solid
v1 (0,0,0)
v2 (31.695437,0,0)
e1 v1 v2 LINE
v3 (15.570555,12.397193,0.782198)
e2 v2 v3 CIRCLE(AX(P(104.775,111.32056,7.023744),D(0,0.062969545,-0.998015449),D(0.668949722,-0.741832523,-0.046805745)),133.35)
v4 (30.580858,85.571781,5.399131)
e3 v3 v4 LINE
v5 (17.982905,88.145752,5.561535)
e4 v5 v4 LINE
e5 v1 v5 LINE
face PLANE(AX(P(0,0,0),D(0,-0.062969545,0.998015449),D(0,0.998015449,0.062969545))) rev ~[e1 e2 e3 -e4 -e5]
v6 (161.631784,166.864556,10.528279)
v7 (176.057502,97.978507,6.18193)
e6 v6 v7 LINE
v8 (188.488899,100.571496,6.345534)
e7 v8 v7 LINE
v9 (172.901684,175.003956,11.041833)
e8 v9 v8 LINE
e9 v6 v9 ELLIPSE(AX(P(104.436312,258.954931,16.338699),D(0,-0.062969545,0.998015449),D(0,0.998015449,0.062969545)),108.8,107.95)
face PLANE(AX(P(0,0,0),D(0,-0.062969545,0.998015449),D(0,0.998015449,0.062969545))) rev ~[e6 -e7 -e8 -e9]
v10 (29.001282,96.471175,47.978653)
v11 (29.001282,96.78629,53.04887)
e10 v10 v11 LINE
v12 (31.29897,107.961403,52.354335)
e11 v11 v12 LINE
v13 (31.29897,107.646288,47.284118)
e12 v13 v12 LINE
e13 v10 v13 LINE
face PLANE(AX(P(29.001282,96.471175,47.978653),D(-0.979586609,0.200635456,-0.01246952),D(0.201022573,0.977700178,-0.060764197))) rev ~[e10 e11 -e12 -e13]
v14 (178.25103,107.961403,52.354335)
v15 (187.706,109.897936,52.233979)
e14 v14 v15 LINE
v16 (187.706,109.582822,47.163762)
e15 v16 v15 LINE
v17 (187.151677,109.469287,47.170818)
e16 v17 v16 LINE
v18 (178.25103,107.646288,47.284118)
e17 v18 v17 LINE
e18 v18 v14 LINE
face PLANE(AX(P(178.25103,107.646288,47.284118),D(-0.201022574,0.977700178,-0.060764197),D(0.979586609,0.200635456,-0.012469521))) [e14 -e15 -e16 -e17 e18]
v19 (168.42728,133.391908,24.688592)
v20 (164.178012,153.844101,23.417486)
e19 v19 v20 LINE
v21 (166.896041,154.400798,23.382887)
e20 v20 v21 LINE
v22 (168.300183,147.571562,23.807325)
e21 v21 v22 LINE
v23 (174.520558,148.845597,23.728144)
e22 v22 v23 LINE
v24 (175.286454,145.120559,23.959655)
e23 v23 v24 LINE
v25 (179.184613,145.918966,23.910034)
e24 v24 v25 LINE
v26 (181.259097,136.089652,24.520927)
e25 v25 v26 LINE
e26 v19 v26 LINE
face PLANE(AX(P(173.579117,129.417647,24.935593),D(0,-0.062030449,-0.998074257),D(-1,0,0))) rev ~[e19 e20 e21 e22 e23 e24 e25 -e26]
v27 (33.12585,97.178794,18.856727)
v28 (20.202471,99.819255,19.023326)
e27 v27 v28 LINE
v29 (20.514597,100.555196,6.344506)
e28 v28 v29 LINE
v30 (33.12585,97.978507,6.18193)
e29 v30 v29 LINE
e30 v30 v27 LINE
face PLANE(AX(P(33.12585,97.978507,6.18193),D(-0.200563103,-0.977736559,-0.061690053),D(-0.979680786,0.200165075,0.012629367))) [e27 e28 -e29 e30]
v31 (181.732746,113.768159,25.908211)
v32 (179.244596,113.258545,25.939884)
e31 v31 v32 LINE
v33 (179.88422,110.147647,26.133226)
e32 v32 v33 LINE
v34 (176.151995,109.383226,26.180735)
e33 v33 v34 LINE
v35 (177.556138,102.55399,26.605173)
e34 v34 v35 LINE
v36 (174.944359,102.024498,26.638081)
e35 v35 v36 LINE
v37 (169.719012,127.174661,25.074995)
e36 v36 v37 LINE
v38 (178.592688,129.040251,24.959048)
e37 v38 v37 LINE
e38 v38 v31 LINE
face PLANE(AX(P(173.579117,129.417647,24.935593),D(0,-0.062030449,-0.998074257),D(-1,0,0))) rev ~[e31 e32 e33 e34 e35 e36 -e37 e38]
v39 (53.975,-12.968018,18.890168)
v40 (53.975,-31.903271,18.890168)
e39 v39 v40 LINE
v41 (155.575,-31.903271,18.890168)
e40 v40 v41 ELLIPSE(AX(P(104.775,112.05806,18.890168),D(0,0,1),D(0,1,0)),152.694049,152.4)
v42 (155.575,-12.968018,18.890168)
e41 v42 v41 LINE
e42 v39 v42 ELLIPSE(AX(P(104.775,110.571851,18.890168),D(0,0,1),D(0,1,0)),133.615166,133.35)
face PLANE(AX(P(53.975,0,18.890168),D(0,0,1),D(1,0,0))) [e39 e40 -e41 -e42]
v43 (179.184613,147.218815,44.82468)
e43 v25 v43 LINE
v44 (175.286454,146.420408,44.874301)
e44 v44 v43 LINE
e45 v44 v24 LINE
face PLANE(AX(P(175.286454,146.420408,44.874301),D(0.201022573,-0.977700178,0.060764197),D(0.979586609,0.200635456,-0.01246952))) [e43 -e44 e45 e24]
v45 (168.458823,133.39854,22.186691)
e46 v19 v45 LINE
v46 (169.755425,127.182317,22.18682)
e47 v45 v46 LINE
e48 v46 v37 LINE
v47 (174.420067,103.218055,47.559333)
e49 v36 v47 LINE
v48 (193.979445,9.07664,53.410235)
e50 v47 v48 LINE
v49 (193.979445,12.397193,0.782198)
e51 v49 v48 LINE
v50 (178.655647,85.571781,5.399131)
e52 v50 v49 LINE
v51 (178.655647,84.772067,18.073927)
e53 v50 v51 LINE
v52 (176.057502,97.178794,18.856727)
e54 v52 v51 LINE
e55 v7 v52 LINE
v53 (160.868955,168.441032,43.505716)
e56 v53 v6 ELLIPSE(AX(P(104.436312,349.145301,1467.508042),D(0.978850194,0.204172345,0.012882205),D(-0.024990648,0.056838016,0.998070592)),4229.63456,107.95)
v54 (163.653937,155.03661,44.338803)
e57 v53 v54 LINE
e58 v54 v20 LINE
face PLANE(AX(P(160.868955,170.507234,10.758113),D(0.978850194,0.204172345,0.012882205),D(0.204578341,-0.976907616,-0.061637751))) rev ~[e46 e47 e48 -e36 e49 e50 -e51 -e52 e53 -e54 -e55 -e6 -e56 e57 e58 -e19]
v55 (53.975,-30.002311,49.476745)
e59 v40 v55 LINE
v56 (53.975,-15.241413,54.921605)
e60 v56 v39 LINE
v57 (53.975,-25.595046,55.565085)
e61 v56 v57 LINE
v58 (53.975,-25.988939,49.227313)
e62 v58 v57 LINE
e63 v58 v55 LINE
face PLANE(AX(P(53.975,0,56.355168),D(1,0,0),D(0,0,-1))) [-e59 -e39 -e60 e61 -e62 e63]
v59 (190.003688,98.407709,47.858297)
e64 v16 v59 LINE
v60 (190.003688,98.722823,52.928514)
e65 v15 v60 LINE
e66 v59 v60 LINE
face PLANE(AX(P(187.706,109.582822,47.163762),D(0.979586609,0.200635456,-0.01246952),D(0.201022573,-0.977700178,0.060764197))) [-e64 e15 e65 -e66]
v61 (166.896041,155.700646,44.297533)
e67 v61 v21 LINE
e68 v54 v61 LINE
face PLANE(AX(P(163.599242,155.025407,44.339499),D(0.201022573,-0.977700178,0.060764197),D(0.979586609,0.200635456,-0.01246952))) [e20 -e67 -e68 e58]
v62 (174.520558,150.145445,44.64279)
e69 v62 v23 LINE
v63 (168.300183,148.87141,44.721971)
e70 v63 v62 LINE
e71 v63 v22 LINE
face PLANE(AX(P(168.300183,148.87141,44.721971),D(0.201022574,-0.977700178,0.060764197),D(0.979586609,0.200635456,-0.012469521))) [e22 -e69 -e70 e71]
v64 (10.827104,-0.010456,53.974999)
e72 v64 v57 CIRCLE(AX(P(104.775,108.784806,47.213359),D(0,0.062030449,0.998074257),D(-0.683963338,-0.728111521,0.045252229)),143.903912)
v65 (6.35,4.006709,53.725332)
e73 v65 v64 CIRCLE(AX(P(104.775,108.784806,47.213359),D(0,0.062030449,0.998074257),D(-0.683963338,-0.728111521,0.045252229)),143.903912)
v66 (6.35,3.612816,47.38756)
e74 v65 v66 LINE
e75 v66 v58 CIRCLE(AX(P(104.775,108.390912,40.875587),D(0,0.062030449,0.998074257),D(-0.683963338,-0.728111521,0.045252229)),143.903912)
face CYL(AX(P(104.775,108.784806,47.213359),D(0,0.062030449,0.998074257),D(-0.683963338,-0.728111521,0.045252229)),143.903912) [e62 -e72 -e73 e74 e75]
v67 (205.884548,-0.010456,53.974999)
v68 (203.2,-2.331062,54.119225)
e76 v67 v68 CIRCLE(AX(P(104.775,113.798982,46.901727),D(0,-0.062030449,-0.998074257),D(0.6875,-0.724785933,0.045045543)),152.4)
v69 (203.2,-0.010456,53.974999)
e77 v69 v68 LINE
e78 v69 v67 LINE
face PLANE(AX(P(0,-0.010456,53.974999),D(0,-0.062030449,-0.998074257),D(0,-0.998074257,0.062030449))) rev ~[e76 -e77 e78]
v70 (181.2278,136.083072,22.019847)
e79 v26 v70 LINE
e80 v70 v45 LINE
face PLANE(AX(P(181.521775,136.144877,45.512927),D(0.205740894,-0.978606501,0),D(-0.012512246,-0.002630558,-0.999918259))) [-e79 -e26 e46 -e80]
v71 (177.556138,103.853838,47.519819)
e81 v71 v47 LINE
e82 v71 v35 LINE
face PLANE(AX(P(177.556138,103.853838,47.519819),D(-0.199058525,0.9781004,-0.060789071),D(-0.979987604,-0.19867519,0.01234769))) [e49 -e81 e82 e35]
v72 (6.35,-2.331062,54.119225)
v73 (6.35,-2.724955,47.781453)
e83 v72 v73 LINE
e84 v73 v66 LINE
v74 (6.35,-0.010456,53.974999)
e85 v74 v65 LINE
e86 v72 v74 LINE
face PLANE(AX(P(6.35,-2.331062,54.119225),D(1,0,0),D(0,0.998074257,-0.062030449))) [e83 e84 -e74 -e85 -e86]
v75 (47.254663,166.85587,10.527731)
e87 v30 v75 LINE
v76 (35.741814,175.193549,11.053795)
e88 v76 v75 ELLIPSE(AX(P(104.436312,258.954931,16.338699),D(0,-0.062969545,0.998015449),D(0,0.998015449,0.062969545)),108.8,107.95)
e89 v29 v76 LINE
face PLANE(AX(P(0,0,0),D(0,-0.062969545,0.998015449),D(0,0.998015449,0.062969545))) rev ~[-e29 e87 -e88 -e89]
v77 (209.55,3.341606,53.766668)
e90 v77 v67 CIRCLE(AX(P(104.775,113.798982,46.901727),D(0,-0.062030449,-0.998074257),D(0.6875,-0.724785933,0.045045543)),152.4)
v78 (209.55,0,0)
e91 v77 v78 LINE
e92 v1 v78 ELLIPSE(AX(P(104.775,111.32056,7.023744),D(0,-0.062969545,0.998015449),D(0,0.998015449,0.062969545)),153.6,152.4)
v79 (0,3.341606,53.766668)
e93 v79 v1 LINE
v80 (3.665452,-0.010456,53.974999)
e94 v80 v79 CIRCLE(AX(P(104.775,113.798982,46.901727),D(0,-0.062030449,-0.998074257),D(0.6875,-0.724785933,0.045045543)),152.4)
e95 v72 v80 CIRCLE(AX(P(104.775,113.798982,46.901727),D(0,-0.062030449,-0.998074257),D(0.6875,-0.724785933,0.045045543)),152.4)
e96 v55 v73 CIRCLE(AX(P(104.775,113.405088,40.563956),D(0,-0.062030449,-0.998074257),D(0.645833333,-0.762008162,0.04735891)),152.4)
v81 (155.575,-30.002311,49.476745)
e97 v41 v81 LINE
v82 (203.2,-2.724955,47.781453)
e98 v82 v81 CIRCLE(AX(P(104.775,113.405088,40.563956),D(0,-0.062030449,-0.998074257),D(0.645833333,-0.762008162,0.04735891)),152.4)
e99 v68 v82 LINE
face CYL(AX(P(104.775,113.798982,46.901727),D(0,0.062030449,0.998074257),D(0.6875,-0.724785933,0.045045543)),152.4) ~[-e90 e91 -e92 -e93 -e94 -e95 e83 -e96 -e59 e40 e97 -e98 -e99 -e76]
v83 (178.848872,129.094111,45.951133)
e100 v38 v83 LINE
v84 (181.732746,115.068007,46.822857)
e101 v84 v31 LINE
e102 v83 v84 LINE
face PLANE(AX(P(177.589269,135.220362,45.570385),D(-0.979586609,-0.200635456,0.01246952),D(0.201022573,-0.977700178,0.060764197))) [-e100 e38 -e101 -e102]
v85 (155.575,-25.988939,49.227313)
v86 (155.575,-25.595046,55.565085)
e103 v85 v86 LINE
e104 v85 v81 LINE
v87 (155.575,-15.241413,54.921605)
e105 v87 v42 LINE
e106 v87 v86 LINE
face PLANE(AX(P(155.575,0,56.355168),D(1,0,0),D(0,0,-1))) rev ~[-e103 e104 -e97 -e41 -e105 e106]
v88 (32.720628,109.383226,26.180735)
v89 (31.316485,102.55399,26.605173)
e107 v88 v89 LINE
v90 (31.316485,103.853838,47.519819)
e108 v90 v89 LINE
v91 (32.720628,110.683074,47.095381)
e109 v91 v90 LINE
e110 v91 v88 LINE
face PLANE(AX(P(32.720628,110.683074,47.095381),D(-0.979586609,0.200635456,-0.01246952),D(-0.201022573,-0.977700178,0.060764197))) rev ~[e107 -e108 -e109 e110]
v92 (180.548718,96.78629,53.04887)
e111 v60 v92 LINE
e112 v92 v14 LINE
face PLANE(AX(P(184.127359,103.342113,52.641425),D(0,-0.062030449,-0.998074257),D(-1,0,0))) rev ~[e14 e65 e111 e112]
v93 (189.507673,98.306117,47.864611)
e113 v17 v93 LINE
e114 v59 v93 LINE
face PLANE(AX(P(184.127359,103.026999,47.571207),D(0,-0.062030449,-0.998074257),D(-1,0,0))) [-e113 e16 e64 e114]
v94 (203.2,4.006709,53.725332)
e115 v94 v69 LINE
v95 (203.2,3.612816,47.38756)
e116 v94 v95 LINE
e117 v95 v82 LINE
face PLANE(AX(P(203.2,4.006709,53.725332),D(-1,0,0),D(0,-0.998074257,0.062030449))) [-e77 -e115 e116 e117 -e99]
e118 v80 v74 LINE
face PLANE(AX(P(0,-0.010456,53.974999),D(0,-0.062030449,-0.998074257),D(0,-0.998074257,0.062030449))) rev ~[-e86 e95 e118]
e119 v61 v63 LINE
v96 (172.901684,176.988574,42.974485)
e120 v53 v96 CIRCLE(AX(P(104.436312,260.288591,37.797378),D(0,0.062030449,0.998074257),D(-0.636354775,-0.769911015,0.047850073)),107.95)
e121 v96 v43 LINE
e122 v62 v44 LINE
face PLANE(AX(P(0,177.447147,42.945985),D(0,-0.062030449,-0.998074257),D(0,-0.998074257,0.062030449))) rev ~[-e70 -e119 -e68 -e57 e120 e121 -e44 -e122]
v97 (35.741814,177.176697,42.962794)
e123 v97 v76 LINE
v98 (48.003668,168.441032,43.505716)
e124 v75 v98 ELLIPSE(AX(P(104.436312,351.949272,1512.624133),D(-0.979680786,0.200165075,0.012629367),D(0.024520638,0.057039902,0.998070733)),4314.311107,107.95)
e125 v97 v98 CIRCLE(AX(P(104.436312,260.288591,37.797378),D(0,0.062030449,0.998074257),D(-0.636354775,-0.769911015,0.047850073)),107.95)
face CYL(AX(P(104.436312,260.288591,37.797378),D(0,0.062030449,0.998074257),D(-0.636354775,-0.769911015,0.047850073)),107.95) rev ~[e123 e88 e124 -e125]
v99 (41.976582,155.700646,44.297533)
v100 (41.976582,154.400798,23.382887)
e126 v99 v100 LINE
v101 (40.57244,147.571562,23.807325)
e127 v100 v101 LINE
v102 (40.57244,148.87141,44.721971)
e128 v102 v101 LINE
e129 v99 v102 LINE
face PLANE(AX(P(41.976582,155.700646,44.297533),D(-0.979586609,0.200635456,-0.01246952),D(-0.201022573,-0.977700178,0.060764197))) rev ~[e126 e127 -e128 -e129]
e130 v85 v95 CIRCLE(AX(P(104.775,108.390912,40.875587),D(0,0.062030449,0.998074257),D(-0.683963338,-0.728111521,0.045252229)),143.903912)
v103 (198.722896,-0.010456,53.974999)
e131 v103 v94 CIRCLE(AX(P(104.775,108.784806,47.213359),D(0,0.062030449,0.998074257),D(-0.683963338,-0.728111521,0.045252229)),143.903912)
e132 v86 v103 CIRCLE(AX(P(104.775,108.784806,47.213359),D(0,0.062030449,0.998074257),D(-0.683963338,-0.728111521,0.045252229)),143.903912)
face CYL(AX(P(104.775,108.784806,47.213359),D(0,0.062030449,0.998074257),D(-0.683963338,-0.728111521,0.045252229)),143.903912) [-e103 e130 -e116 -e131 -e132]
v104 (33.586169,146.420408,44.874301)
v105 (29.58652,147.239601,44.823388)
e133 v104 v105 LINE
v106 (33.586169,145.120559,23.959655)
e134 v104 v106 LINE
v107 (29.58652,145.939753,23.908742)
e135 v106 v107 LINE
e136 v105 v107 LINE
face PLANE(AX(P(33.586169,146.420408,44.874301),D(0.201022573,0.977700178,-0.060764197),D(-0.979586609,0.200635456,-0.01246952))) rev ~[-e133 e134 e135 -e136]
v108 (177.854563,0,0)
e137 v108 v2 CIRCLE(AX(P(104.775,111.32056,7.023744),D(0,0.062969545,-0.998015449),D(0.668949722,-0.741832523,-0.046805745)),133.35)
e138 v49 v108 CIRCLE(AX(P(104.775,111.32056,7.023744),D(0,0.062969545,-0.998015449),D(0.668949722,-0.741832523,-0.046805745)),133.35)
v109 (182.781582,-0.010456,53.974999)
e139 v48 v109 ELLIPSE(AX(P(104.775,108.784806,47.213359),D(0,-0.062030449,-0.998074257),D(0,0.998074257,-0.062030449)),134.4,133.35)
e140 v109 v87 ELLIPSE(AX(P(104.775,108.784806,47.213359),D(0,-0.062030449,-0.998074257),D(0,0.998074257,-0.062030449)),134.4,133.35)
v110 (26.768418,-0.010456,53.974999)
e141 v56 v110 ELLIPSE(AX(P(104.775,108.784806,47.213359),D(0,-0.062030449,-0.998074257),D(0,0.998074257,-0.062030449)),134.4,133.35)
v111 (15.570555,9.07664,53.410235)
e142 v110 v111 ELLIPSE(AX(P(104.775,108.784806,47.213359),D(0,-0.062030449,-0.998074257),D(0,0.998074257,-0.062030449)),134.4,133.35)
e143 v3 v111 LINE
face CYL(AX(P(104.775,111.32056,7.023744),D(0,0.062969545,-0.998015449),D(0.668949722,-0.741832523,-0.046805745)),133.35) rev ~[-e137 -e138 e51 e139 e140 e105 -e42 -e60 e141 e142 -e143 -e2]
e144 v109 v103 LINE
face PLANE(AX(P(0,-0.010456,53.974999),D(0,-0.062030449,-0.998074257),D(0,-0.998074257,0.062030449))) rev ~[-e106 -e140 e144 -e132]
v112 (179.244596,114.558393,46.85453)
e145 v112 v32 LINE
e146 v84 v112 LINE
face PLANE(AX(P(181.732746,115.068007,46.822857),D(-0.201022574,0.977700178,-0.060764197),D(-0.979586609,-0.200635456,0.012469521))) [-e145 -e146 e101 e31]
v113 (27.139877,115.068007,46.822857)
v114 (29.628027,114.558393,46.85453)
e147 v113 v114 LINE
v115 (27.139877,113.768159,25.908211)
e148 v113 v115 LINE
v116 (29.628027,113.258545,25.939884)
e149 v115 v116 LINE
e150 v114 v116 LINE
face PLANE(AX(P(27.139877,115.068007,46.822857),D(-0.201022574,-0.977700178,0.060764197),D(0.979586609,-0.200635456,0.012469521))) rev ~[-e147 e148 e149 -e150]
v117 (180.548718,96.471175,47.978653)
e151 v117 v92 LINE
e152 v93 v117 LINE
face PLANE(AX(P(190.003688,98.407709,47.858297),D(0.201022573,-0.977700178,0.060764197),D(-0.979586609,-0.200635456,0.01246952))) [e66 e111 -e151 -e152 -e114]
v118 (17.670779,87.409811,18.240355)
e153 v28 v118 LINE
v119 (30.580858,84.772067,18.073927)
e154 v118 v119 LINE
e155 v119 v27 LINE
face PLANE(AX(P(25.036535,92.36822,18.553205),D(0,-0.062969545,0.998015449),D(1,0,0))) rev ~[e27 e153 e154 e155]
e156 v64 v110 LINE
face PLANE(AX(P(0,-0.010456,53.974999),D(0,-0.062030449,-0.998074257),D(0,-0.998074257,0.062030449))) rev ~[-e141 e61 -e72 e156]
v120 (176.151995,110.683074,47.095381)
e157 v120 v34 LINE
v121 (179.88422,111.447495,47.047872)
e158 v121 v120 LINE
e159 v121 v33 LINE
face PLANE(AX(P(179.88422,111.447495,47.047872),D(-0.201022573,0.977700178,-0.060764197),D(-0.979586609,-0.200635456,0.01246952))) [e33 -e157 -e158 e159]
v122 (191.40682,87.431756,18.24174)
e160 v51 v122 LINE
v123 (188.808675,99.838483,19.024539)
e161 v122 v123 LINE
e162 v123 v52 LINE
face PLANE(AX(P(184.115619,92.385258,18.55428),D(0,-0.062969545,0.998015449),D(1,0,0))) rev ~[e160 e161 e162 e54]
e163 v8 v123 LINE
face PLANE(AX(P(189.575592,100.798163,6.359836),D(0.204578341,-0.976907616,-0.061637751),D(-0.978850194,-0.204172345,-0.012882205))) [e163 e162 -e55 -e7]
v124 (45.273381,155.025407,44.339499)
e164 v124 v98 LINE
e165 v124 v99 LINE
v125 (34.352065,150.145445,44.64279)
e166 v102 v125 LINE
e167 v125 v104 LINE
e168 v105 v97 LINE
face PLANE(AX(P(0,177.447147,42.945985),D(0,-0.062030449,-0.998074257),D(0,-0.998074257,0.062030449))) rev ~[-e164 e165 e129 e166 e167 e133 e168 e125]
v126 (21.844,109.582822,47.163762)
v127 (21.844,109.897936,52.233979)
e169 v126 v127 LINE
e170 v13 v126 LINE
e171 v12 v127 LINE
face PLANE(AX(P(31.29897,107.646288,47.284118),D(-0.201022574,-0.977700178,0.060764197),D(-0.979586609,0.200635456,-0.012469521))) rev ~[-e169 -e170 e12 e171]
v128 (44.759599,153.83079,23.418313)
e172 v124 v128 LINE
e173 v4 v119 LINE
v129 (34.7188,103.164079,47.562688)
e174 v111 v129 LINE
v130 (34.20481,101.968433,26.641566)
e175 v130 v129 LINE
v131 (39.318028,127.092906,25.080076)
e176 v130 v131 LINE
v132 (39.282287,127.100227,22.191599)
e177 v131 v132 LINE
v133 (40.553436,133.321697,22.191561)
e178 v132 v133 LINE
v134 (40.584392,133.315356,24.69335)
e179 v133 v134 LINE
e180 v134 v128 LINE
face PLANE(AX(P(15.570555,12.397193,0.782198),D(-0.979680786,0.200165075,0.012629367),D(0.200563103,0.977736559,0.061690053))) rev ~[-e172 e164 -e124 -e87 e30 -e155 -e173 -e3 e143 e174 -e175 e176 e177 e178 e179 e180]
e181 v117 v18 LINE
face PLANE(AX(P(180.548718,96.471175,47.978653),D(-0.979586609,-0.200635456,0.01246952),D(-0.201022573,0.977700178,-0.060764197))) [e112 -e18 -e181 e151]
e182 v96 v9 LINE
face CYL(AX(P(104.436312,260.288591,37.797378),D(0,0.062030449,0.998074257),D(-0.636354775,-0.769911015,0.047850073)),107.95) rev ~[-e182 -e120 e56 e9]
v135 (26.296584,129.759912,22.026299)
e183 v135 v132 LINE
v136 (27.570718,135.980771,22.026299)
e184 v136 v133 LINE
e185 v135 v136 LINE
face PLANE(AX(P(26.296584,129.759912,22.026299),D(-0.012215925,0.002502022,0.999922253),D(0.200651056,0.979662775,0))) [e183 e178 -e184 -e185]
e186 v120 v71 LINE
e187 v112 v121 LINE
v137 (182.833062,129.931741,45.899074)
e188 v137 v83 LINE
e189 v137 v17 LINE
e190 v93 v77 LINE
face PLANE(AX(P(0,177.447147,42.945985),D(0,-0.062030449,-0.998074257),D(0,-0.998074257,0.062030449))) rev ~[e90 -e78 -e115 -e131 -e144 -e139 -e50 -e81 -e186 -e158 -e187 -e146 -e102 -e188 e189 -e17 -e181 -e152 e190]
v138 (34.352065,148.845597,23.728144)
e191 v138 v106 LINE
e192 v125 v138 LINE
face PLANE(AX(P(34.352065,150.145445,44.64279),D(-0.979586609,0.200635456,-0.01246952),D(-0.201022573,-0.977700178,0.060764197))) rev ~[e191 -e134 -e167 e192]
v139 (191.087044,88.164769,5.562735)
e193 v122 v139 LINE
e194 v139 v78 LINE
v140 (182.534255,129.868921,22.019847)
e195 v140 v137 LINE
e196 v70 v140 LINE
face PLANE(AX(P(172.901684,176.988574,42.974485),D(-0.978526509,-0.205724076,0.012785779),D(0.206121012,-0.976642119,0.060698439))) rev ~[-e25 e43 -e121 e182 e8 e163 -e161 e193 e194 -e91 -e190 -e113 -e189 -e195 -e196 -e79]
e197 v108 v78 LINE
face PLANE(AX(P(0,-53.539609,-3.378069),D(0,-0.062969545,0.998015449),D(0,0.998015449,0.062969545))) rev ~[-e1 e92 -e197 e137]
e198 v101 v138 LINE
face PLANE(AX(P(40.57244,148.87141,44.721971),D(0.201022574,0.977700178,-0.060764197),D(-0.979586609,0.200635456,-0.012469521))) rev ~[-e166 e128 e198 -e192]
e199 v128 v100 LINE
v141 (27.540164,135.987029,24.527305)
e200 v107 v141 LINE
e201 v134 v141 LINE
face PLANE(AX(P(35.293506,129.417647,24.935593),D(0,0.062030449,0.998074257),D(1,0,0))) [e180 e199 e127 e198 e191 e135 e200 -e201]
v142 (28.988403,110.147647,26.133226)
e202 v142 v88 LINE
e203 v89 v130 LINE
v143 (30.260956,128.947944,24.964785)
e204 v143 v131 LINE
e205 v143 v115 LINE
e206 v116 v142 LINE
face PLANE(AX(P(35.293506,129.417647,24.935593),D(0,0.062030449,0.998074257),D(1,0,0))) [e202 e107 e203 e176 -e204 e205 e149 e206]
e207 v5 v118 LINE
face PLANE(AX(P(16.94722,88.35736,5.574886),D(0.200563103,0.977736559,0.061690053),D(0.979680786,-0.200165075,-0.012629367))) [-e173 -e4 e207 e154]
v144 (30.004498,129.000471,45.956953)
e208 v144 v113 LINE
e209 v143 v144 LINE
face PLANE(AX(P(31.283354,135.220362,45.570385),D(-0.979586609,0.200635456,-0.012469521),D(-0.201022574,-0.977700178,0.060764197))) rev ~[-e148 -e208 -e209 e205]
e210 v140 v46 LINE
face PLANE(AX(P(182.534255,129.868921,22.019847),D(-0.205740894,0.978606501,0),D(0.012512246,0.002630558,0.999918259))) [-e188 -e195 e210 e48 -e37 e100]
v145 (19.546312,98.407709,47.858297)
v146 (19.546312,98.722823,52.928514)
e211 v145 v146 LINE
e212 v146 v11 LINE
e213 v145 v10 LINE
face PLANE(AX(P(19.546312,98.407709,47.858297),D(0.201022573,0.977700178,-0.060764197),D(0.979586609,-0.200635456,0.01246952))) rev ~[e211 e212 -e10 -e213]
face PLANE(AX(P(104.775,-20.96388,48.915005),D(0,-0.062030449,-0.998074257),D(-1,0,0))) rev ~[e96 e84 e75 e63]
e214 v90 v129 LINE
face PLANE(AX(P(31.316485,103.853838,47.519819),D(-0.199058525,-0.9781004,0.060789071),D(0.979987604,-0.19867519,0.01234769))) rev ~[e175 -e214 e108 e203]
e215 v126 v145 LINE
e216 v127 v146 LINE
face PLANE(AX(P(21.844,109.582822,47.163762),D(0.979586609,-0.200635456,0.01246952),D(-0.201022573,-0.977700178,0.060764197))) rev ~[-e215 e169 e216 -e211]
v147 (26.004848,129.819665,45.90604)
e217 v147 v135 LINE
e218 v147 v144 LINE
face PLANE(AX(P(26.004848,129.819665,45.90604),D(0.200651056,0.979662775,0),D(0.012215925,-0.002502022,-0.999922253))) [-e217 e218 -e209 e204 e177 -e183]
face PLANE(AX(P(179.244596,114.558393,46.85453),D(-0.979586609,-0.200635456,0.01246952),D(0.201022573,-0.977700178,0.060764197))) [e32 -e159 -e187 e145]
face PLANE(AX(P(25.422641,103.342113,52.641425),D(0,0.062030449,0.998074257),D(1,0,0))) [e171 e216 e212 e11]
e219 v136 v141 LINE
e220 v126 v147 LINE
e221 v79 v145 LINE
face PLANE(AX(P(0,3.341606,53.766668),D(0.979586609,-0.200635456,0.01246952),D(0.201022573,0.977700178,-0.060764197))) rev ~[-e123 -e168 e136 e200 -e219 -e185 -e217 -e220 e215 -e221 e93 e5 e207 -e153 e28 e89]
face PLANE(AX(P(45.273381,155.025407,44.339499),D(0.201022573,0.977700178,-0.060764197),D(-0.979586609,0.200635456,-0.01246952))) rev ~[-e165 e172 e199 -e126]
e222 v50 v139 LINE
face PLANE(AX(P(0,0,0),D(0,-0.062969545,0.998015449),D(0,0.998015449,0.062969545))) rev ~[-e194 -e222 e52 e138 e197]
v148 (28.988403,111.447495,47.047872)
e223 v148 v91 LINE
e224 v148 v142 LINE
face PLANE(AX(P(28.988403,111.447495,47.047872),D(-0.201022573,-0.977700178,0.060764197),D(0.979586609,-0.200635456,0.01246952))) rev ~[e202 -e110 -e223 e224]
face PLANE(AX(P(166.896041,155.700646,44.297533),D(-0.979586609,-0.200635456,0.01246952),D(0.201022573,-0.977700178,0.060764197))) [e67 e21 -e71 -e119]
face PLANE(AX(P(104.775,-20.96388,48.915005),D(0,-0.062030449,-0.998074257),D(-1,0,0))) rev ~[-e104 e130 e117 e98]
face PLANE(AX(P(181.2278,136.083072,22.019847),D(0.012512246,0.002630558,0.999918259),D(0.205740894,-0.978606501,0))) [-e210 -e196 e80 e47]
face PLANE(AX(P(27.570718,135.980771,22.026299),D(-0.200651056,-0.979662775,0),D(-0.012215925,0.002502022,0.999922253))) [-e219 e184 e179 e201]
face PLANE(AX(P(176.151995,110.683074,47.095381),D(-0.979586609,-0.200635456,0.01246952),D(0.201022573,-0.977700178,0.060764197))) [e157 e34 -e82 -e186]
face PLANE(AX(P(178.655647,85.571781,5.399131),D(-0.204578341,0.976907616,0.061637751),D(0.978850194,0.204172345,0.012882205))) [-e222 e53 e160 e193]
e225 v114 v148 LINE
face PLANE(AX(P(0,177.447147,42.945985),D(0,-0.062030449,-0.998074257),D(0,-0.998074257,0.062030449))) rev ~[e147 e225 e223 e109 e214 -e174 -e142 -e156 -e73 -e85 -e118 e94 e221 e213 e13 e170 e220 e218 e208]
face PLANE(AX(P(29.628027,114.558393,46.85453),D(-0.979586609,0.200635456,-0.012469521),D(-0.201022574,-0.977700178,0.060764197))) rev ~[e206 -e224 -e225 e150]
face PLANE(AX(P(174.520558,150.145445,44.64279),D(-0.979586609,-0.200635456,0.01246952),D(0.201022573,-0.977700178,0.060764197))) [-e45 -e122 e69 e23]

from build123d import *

# Parameters (mm, degrees)
BOSS_EXTRUDE1_DEPTH     = 209.55
SKETCH3_W               = 240.510539239
SKETCH3_H               = 265.315522901
CUT_EXTRUDE1_DEPTH      = 61.780833862
CUT_EXTRUDE2_DEPTH      = 59.88645018
CUT_EXTRUDE3_DEPTH      = 12.7
CUT_EXTRUDE4_DEPTH      = 6.35
SKETCH7_W               = 101.6
SKETCH7_H               = 37.465
CUT_EXTRUDE5_DEPTH      = 178.176697197
CUT_EXTRUDE5_DEPTH_BACK = 42.974613266
SKETCH10_R              = 2.667
CUT_EXTRUDE8_DEPTH      = 50.8
SKETCH11_R              = 2.667
CUT_EXTRUDE9_DEPTH      = 50.8
BOSS_EXTRUDE2_DEPTH     = 5.08
CUT_EXTRUDE10_DEPTH     = 19.05
CUT_EXTRUDE11_DEPTH     = 19.05
CUT_EXTRUDE12_DEPTH     = 20.955


with BuildPart() as part:
    # Sketch2 → Boss-Extrude1 (new body)
    with BuildSketch(Plane(origin=(0, 0, 0), x_dir=(0, 0, -1), z_dir=(1, 0, 0))):
        Polygon((-42.945985173, 177.447146824), (-53.974998987, -0.010456153), (-57.520039142, -57.050399967), (3.378068797, -53.539609111), (0, 0), (-11.195985173, 177.447146824), align=None)
    extrude(amount=BOSS_EXTRUDE1_DEPTH)

    # Sketch3 → Cut-Extrude1 (cut, through all)
    with BuildSketch(Plane(origin=(0, 3.341605618, 53.766667899), x_dir=(1, 0, 0), z_dir=(0, 0.062030449, 0.998074257))):
        with Locations((107.411926899, 58.645471754)):
            Rectangle(SKETCH3_W, SKETCH3_H)
        with BuildLine():
            Line((172.901684058, 173.982013262), (209.55, 0))
            ThreePointArc((209.55, 0), (104.775, -41.729500882), (0, 0))
            Line((0, 0), (35.741813567, 174.170499118))
            ThreePointArc((35.741813567, 174.170499118), (104.287966167, 149.492856038), (172.901684058, 173.982013262))
        make_face(mode=Mode.SUBTRACT)
    extrude(amount=-CUT_EXTRUDE1_DEPTH, mode=Mode.SUBTRACT)

    # Sketch4 → Cut-Extrude2 (cut, through all)
    with BuildSketch(Plane(origin=(0, 0, 0), x_dir=(-1, 0, 0), z_dir=(0, 0.062969545, -0.998015449))):
        with BuildLine():
            Line((-160.868955232, 170.846287594), (-193.979445404, 12.421844718))
            ThreePointArc((-193.979445404, 12.421844718), (-104.775, -21.808079515), (-15.570554596, 12.421844718))
            Line((-15.570554596, 12.421844718), (-48.003667802, 170.846287594))
            Line((-48.003667802, 170.846287594), (-160.868955232, 170.846287594))
        make_face()
    extrude(amount=-CUT_EXTRUDE2_DEPTH, mode=Mode.SUBTRACT)

    # Sketch5 → Cut-Extrude3 (cut)
    with BuildSketch(Plane(origin=(0, 0, 0), x_dir=(-1, 0, 0), z_dir=(0, 0.062969545, -0.998015449))):
        Polygon((-189.575592117, 100.998599654), (-176.057501646, 98.17333738), (-178.65564658, 85.741939916), (-192.173737051, 88.56720219), align=None)
        Polygon((-33.125849843, 98.17333738), (-19.492211444, 100.964455529), (-16.94721956, 88.533058065), (-30.58085796, 85.741939916), align=None)
    extrude(amount=-CUT_EXTRUDE3_DEPTH, mode=Mode.SUBTRACT)

    # Sketch6 → Cut-Extrude4 (cut)
    with BuildSketch(Plane(origin=(0, 3.341605618, 53.766667899), x_dir=(1, 0, 0), z_dir=(0, 0.062030449, 0.998074257))):
        with BuildLine():
            Line((6.35, -5.683612864), (6.35, 0.666387136))
            ThreePointArc((6.35, 0.666387136), (104.775, -38.257263578), (203.2, 0.666387136))
            Line((203.2, 0.666387136), (203.2, -5.683612864))
            ThreePointArc((203.2, -5.683612864), (104.775, -41.729500882), (6.35, -5.683612864))
        make_face()
    extrude(amount=-CUT_EXTRUDE4_DEPTH, mode=Mode.SUBTRACT)

    # Sketch7 → Cut-Extrude5 (cut, two sides)
    with BuildSketch(Plane(origin=(0, 0, 0), x_dir=(1, 0, 0), z_dir=(0, 1, 0))) as cut_extrude5_sk:
        with Locations((104.775, -37.622667571)):
            Rectangle(SKETCH7_W, SKETCH7_H)
    extrude(amount=CUT_EXTRUDE5_DEPTH, mode=Mode.SUBTRACT)
    extrude(cut_extrude5_sk.sketch, amount=-CUT_EXTRUDE5_DEPTH_BACK, mode=Mode.SUBTRACT)

    # Sketch10 → Cut-Extrude8 (cut)
    with BuildSketch(Plane(origin=(200.647085604, 42.183769093, -2.621726904), x_dir=(-0.012512246, -0.002630558, -0.999918259), z_dir=(0.978526509, 0.205724076, -0.012785779))):
        with Locations(Location((-34.774476568, 102.235809265, 0), (0, 0, 90))):  # turned: the seam where the file's is
            Circle(SKETCH10_R)
    extrude(amount=-CUT_EXTRUDE8_DEPTH, mode=Mode.SUBTRACT)

    # Sketch11 → Cut-Extrude9 (cut)
    with BuildSketch(Plane(origin=(0, 0, 0), x_dir=(-0.012215925, 0.002502022, 0.999922253), z_dir=(-0.979586609, 0.200635456, -0.01246952))):
        with Locations(Location((32.158429543, 145.097393201, 0), (0, 0, 270))):  # turned: the seam where the file's is
            Circle(SKETCH11_R)
    extrude(amount=-CUT_EXTRUDE9_DEPTH, mode=Mode.SUBTRACT)

    # Sketch13 → Boss-Extrude2 (add)
    with BuildSketch(Plane(origin=(0, 3.341605618, 53.766667899), x_dir=(1, 0, 0), z_dir=(0, 0.062030449, 0.998074257))):
        Polygon((21.844, 106.446204126), (19.546311985, 95.249529182), (29.001281937, 93.309259303), (31.298969952, 104.505934246), align=None)
        Polygon((178.251030048, 104.505934246), (187.706, 106.446204126), (190.003688015, 95.249529182), (180.548718063, 93.309259303), align=None)
    extrude(amount=BOSS_EXTRUDE2_DEPTH)

    # Sketch14 → Cut-Extrude10 (cut)
    with BuildSketch(Plane(origin=(0, 0, 0), x_dir=(-0.012215925, 0.002502022, 0.999922253), z_dir=(-0.979586609, 0.200635456, -0.01246952))):
        Polygon((45.523011798, 138.747393201), (45.909608937, 132.397393201), (22.028011798, 132.397393201), (22.028011798, 138.747393201), align=None)
    extrude(amount=-CUT_EXTRUDE10_DEPTH, mode=Mode.SUBTRACT)

    # Sketch15 → Cut-Extrude11 (cut)
    with BuildSketch(Plane(origin=(200.647085604, 42.183769093, -2.621726904), x_dir=(-0.012512246, -0.002630558, -0.999918259), z_dir=(0.978526509, 0.205724076, -0.012785779))):
        Polygon((-48.138588614, 95.885809265), (-24.643588614, 95.885809265), (-24.643588614, 89.535809265), (-48.52476738, 89.535809265), align=None)
    extrude(amount=-CUT_EXTRUDE11_DEPTH, mode=Mode.SUBTRACT)

    # Sketch16 → Cut-Extrude12 (cut)
    with BuildSketch(Plane(origin=(0, 3.341605618, 53.766667899), x_dir=(1, 0, 0), z_dir=(0, 0.062030449, 0.998074257))):
        Polygon((45.273381068, 151.976469085), (41.976582335, 152.653010556), (40.572439659, 145.81059809), (34.352064691, 147.087091432), (33.586168686, 143.354866451), (29.586519575, 144.175641), (27.283705248, 132.953985446), (31.283354359, 132.133210897), (27.13987731, 111.94197286), (29.628027298, 111.431375523), (28.988403038, 108.314475026), (32.720628019, 107.548579021), (31.316485344, 100.706166555), (34.718800408, 100.015076365), align=None)
        Polygon((174.153822626, 100.015076365), (163.599241965, 151.976469085), (166.896040699, 152.653010556), (168.300183374, 145.81059809), (174.520558343, 147.087091432), (175.286454348, 143.354866451), (179.286103459, 144.175641), (181.588917786, 132.953985446), (177.589268675, 132.133210897), (181.732745723, 111.94197286), (179.244595736, 111.431375523), (179.884219995, 108.314475026), (176.151995014, 107.548579021), (177.55613769, 100.706166555), align=None)
    extrude(amount=-CUT_EXTRUDE12_DEPTH, mode=Mode.SUBTRACT)


solid = part.part
